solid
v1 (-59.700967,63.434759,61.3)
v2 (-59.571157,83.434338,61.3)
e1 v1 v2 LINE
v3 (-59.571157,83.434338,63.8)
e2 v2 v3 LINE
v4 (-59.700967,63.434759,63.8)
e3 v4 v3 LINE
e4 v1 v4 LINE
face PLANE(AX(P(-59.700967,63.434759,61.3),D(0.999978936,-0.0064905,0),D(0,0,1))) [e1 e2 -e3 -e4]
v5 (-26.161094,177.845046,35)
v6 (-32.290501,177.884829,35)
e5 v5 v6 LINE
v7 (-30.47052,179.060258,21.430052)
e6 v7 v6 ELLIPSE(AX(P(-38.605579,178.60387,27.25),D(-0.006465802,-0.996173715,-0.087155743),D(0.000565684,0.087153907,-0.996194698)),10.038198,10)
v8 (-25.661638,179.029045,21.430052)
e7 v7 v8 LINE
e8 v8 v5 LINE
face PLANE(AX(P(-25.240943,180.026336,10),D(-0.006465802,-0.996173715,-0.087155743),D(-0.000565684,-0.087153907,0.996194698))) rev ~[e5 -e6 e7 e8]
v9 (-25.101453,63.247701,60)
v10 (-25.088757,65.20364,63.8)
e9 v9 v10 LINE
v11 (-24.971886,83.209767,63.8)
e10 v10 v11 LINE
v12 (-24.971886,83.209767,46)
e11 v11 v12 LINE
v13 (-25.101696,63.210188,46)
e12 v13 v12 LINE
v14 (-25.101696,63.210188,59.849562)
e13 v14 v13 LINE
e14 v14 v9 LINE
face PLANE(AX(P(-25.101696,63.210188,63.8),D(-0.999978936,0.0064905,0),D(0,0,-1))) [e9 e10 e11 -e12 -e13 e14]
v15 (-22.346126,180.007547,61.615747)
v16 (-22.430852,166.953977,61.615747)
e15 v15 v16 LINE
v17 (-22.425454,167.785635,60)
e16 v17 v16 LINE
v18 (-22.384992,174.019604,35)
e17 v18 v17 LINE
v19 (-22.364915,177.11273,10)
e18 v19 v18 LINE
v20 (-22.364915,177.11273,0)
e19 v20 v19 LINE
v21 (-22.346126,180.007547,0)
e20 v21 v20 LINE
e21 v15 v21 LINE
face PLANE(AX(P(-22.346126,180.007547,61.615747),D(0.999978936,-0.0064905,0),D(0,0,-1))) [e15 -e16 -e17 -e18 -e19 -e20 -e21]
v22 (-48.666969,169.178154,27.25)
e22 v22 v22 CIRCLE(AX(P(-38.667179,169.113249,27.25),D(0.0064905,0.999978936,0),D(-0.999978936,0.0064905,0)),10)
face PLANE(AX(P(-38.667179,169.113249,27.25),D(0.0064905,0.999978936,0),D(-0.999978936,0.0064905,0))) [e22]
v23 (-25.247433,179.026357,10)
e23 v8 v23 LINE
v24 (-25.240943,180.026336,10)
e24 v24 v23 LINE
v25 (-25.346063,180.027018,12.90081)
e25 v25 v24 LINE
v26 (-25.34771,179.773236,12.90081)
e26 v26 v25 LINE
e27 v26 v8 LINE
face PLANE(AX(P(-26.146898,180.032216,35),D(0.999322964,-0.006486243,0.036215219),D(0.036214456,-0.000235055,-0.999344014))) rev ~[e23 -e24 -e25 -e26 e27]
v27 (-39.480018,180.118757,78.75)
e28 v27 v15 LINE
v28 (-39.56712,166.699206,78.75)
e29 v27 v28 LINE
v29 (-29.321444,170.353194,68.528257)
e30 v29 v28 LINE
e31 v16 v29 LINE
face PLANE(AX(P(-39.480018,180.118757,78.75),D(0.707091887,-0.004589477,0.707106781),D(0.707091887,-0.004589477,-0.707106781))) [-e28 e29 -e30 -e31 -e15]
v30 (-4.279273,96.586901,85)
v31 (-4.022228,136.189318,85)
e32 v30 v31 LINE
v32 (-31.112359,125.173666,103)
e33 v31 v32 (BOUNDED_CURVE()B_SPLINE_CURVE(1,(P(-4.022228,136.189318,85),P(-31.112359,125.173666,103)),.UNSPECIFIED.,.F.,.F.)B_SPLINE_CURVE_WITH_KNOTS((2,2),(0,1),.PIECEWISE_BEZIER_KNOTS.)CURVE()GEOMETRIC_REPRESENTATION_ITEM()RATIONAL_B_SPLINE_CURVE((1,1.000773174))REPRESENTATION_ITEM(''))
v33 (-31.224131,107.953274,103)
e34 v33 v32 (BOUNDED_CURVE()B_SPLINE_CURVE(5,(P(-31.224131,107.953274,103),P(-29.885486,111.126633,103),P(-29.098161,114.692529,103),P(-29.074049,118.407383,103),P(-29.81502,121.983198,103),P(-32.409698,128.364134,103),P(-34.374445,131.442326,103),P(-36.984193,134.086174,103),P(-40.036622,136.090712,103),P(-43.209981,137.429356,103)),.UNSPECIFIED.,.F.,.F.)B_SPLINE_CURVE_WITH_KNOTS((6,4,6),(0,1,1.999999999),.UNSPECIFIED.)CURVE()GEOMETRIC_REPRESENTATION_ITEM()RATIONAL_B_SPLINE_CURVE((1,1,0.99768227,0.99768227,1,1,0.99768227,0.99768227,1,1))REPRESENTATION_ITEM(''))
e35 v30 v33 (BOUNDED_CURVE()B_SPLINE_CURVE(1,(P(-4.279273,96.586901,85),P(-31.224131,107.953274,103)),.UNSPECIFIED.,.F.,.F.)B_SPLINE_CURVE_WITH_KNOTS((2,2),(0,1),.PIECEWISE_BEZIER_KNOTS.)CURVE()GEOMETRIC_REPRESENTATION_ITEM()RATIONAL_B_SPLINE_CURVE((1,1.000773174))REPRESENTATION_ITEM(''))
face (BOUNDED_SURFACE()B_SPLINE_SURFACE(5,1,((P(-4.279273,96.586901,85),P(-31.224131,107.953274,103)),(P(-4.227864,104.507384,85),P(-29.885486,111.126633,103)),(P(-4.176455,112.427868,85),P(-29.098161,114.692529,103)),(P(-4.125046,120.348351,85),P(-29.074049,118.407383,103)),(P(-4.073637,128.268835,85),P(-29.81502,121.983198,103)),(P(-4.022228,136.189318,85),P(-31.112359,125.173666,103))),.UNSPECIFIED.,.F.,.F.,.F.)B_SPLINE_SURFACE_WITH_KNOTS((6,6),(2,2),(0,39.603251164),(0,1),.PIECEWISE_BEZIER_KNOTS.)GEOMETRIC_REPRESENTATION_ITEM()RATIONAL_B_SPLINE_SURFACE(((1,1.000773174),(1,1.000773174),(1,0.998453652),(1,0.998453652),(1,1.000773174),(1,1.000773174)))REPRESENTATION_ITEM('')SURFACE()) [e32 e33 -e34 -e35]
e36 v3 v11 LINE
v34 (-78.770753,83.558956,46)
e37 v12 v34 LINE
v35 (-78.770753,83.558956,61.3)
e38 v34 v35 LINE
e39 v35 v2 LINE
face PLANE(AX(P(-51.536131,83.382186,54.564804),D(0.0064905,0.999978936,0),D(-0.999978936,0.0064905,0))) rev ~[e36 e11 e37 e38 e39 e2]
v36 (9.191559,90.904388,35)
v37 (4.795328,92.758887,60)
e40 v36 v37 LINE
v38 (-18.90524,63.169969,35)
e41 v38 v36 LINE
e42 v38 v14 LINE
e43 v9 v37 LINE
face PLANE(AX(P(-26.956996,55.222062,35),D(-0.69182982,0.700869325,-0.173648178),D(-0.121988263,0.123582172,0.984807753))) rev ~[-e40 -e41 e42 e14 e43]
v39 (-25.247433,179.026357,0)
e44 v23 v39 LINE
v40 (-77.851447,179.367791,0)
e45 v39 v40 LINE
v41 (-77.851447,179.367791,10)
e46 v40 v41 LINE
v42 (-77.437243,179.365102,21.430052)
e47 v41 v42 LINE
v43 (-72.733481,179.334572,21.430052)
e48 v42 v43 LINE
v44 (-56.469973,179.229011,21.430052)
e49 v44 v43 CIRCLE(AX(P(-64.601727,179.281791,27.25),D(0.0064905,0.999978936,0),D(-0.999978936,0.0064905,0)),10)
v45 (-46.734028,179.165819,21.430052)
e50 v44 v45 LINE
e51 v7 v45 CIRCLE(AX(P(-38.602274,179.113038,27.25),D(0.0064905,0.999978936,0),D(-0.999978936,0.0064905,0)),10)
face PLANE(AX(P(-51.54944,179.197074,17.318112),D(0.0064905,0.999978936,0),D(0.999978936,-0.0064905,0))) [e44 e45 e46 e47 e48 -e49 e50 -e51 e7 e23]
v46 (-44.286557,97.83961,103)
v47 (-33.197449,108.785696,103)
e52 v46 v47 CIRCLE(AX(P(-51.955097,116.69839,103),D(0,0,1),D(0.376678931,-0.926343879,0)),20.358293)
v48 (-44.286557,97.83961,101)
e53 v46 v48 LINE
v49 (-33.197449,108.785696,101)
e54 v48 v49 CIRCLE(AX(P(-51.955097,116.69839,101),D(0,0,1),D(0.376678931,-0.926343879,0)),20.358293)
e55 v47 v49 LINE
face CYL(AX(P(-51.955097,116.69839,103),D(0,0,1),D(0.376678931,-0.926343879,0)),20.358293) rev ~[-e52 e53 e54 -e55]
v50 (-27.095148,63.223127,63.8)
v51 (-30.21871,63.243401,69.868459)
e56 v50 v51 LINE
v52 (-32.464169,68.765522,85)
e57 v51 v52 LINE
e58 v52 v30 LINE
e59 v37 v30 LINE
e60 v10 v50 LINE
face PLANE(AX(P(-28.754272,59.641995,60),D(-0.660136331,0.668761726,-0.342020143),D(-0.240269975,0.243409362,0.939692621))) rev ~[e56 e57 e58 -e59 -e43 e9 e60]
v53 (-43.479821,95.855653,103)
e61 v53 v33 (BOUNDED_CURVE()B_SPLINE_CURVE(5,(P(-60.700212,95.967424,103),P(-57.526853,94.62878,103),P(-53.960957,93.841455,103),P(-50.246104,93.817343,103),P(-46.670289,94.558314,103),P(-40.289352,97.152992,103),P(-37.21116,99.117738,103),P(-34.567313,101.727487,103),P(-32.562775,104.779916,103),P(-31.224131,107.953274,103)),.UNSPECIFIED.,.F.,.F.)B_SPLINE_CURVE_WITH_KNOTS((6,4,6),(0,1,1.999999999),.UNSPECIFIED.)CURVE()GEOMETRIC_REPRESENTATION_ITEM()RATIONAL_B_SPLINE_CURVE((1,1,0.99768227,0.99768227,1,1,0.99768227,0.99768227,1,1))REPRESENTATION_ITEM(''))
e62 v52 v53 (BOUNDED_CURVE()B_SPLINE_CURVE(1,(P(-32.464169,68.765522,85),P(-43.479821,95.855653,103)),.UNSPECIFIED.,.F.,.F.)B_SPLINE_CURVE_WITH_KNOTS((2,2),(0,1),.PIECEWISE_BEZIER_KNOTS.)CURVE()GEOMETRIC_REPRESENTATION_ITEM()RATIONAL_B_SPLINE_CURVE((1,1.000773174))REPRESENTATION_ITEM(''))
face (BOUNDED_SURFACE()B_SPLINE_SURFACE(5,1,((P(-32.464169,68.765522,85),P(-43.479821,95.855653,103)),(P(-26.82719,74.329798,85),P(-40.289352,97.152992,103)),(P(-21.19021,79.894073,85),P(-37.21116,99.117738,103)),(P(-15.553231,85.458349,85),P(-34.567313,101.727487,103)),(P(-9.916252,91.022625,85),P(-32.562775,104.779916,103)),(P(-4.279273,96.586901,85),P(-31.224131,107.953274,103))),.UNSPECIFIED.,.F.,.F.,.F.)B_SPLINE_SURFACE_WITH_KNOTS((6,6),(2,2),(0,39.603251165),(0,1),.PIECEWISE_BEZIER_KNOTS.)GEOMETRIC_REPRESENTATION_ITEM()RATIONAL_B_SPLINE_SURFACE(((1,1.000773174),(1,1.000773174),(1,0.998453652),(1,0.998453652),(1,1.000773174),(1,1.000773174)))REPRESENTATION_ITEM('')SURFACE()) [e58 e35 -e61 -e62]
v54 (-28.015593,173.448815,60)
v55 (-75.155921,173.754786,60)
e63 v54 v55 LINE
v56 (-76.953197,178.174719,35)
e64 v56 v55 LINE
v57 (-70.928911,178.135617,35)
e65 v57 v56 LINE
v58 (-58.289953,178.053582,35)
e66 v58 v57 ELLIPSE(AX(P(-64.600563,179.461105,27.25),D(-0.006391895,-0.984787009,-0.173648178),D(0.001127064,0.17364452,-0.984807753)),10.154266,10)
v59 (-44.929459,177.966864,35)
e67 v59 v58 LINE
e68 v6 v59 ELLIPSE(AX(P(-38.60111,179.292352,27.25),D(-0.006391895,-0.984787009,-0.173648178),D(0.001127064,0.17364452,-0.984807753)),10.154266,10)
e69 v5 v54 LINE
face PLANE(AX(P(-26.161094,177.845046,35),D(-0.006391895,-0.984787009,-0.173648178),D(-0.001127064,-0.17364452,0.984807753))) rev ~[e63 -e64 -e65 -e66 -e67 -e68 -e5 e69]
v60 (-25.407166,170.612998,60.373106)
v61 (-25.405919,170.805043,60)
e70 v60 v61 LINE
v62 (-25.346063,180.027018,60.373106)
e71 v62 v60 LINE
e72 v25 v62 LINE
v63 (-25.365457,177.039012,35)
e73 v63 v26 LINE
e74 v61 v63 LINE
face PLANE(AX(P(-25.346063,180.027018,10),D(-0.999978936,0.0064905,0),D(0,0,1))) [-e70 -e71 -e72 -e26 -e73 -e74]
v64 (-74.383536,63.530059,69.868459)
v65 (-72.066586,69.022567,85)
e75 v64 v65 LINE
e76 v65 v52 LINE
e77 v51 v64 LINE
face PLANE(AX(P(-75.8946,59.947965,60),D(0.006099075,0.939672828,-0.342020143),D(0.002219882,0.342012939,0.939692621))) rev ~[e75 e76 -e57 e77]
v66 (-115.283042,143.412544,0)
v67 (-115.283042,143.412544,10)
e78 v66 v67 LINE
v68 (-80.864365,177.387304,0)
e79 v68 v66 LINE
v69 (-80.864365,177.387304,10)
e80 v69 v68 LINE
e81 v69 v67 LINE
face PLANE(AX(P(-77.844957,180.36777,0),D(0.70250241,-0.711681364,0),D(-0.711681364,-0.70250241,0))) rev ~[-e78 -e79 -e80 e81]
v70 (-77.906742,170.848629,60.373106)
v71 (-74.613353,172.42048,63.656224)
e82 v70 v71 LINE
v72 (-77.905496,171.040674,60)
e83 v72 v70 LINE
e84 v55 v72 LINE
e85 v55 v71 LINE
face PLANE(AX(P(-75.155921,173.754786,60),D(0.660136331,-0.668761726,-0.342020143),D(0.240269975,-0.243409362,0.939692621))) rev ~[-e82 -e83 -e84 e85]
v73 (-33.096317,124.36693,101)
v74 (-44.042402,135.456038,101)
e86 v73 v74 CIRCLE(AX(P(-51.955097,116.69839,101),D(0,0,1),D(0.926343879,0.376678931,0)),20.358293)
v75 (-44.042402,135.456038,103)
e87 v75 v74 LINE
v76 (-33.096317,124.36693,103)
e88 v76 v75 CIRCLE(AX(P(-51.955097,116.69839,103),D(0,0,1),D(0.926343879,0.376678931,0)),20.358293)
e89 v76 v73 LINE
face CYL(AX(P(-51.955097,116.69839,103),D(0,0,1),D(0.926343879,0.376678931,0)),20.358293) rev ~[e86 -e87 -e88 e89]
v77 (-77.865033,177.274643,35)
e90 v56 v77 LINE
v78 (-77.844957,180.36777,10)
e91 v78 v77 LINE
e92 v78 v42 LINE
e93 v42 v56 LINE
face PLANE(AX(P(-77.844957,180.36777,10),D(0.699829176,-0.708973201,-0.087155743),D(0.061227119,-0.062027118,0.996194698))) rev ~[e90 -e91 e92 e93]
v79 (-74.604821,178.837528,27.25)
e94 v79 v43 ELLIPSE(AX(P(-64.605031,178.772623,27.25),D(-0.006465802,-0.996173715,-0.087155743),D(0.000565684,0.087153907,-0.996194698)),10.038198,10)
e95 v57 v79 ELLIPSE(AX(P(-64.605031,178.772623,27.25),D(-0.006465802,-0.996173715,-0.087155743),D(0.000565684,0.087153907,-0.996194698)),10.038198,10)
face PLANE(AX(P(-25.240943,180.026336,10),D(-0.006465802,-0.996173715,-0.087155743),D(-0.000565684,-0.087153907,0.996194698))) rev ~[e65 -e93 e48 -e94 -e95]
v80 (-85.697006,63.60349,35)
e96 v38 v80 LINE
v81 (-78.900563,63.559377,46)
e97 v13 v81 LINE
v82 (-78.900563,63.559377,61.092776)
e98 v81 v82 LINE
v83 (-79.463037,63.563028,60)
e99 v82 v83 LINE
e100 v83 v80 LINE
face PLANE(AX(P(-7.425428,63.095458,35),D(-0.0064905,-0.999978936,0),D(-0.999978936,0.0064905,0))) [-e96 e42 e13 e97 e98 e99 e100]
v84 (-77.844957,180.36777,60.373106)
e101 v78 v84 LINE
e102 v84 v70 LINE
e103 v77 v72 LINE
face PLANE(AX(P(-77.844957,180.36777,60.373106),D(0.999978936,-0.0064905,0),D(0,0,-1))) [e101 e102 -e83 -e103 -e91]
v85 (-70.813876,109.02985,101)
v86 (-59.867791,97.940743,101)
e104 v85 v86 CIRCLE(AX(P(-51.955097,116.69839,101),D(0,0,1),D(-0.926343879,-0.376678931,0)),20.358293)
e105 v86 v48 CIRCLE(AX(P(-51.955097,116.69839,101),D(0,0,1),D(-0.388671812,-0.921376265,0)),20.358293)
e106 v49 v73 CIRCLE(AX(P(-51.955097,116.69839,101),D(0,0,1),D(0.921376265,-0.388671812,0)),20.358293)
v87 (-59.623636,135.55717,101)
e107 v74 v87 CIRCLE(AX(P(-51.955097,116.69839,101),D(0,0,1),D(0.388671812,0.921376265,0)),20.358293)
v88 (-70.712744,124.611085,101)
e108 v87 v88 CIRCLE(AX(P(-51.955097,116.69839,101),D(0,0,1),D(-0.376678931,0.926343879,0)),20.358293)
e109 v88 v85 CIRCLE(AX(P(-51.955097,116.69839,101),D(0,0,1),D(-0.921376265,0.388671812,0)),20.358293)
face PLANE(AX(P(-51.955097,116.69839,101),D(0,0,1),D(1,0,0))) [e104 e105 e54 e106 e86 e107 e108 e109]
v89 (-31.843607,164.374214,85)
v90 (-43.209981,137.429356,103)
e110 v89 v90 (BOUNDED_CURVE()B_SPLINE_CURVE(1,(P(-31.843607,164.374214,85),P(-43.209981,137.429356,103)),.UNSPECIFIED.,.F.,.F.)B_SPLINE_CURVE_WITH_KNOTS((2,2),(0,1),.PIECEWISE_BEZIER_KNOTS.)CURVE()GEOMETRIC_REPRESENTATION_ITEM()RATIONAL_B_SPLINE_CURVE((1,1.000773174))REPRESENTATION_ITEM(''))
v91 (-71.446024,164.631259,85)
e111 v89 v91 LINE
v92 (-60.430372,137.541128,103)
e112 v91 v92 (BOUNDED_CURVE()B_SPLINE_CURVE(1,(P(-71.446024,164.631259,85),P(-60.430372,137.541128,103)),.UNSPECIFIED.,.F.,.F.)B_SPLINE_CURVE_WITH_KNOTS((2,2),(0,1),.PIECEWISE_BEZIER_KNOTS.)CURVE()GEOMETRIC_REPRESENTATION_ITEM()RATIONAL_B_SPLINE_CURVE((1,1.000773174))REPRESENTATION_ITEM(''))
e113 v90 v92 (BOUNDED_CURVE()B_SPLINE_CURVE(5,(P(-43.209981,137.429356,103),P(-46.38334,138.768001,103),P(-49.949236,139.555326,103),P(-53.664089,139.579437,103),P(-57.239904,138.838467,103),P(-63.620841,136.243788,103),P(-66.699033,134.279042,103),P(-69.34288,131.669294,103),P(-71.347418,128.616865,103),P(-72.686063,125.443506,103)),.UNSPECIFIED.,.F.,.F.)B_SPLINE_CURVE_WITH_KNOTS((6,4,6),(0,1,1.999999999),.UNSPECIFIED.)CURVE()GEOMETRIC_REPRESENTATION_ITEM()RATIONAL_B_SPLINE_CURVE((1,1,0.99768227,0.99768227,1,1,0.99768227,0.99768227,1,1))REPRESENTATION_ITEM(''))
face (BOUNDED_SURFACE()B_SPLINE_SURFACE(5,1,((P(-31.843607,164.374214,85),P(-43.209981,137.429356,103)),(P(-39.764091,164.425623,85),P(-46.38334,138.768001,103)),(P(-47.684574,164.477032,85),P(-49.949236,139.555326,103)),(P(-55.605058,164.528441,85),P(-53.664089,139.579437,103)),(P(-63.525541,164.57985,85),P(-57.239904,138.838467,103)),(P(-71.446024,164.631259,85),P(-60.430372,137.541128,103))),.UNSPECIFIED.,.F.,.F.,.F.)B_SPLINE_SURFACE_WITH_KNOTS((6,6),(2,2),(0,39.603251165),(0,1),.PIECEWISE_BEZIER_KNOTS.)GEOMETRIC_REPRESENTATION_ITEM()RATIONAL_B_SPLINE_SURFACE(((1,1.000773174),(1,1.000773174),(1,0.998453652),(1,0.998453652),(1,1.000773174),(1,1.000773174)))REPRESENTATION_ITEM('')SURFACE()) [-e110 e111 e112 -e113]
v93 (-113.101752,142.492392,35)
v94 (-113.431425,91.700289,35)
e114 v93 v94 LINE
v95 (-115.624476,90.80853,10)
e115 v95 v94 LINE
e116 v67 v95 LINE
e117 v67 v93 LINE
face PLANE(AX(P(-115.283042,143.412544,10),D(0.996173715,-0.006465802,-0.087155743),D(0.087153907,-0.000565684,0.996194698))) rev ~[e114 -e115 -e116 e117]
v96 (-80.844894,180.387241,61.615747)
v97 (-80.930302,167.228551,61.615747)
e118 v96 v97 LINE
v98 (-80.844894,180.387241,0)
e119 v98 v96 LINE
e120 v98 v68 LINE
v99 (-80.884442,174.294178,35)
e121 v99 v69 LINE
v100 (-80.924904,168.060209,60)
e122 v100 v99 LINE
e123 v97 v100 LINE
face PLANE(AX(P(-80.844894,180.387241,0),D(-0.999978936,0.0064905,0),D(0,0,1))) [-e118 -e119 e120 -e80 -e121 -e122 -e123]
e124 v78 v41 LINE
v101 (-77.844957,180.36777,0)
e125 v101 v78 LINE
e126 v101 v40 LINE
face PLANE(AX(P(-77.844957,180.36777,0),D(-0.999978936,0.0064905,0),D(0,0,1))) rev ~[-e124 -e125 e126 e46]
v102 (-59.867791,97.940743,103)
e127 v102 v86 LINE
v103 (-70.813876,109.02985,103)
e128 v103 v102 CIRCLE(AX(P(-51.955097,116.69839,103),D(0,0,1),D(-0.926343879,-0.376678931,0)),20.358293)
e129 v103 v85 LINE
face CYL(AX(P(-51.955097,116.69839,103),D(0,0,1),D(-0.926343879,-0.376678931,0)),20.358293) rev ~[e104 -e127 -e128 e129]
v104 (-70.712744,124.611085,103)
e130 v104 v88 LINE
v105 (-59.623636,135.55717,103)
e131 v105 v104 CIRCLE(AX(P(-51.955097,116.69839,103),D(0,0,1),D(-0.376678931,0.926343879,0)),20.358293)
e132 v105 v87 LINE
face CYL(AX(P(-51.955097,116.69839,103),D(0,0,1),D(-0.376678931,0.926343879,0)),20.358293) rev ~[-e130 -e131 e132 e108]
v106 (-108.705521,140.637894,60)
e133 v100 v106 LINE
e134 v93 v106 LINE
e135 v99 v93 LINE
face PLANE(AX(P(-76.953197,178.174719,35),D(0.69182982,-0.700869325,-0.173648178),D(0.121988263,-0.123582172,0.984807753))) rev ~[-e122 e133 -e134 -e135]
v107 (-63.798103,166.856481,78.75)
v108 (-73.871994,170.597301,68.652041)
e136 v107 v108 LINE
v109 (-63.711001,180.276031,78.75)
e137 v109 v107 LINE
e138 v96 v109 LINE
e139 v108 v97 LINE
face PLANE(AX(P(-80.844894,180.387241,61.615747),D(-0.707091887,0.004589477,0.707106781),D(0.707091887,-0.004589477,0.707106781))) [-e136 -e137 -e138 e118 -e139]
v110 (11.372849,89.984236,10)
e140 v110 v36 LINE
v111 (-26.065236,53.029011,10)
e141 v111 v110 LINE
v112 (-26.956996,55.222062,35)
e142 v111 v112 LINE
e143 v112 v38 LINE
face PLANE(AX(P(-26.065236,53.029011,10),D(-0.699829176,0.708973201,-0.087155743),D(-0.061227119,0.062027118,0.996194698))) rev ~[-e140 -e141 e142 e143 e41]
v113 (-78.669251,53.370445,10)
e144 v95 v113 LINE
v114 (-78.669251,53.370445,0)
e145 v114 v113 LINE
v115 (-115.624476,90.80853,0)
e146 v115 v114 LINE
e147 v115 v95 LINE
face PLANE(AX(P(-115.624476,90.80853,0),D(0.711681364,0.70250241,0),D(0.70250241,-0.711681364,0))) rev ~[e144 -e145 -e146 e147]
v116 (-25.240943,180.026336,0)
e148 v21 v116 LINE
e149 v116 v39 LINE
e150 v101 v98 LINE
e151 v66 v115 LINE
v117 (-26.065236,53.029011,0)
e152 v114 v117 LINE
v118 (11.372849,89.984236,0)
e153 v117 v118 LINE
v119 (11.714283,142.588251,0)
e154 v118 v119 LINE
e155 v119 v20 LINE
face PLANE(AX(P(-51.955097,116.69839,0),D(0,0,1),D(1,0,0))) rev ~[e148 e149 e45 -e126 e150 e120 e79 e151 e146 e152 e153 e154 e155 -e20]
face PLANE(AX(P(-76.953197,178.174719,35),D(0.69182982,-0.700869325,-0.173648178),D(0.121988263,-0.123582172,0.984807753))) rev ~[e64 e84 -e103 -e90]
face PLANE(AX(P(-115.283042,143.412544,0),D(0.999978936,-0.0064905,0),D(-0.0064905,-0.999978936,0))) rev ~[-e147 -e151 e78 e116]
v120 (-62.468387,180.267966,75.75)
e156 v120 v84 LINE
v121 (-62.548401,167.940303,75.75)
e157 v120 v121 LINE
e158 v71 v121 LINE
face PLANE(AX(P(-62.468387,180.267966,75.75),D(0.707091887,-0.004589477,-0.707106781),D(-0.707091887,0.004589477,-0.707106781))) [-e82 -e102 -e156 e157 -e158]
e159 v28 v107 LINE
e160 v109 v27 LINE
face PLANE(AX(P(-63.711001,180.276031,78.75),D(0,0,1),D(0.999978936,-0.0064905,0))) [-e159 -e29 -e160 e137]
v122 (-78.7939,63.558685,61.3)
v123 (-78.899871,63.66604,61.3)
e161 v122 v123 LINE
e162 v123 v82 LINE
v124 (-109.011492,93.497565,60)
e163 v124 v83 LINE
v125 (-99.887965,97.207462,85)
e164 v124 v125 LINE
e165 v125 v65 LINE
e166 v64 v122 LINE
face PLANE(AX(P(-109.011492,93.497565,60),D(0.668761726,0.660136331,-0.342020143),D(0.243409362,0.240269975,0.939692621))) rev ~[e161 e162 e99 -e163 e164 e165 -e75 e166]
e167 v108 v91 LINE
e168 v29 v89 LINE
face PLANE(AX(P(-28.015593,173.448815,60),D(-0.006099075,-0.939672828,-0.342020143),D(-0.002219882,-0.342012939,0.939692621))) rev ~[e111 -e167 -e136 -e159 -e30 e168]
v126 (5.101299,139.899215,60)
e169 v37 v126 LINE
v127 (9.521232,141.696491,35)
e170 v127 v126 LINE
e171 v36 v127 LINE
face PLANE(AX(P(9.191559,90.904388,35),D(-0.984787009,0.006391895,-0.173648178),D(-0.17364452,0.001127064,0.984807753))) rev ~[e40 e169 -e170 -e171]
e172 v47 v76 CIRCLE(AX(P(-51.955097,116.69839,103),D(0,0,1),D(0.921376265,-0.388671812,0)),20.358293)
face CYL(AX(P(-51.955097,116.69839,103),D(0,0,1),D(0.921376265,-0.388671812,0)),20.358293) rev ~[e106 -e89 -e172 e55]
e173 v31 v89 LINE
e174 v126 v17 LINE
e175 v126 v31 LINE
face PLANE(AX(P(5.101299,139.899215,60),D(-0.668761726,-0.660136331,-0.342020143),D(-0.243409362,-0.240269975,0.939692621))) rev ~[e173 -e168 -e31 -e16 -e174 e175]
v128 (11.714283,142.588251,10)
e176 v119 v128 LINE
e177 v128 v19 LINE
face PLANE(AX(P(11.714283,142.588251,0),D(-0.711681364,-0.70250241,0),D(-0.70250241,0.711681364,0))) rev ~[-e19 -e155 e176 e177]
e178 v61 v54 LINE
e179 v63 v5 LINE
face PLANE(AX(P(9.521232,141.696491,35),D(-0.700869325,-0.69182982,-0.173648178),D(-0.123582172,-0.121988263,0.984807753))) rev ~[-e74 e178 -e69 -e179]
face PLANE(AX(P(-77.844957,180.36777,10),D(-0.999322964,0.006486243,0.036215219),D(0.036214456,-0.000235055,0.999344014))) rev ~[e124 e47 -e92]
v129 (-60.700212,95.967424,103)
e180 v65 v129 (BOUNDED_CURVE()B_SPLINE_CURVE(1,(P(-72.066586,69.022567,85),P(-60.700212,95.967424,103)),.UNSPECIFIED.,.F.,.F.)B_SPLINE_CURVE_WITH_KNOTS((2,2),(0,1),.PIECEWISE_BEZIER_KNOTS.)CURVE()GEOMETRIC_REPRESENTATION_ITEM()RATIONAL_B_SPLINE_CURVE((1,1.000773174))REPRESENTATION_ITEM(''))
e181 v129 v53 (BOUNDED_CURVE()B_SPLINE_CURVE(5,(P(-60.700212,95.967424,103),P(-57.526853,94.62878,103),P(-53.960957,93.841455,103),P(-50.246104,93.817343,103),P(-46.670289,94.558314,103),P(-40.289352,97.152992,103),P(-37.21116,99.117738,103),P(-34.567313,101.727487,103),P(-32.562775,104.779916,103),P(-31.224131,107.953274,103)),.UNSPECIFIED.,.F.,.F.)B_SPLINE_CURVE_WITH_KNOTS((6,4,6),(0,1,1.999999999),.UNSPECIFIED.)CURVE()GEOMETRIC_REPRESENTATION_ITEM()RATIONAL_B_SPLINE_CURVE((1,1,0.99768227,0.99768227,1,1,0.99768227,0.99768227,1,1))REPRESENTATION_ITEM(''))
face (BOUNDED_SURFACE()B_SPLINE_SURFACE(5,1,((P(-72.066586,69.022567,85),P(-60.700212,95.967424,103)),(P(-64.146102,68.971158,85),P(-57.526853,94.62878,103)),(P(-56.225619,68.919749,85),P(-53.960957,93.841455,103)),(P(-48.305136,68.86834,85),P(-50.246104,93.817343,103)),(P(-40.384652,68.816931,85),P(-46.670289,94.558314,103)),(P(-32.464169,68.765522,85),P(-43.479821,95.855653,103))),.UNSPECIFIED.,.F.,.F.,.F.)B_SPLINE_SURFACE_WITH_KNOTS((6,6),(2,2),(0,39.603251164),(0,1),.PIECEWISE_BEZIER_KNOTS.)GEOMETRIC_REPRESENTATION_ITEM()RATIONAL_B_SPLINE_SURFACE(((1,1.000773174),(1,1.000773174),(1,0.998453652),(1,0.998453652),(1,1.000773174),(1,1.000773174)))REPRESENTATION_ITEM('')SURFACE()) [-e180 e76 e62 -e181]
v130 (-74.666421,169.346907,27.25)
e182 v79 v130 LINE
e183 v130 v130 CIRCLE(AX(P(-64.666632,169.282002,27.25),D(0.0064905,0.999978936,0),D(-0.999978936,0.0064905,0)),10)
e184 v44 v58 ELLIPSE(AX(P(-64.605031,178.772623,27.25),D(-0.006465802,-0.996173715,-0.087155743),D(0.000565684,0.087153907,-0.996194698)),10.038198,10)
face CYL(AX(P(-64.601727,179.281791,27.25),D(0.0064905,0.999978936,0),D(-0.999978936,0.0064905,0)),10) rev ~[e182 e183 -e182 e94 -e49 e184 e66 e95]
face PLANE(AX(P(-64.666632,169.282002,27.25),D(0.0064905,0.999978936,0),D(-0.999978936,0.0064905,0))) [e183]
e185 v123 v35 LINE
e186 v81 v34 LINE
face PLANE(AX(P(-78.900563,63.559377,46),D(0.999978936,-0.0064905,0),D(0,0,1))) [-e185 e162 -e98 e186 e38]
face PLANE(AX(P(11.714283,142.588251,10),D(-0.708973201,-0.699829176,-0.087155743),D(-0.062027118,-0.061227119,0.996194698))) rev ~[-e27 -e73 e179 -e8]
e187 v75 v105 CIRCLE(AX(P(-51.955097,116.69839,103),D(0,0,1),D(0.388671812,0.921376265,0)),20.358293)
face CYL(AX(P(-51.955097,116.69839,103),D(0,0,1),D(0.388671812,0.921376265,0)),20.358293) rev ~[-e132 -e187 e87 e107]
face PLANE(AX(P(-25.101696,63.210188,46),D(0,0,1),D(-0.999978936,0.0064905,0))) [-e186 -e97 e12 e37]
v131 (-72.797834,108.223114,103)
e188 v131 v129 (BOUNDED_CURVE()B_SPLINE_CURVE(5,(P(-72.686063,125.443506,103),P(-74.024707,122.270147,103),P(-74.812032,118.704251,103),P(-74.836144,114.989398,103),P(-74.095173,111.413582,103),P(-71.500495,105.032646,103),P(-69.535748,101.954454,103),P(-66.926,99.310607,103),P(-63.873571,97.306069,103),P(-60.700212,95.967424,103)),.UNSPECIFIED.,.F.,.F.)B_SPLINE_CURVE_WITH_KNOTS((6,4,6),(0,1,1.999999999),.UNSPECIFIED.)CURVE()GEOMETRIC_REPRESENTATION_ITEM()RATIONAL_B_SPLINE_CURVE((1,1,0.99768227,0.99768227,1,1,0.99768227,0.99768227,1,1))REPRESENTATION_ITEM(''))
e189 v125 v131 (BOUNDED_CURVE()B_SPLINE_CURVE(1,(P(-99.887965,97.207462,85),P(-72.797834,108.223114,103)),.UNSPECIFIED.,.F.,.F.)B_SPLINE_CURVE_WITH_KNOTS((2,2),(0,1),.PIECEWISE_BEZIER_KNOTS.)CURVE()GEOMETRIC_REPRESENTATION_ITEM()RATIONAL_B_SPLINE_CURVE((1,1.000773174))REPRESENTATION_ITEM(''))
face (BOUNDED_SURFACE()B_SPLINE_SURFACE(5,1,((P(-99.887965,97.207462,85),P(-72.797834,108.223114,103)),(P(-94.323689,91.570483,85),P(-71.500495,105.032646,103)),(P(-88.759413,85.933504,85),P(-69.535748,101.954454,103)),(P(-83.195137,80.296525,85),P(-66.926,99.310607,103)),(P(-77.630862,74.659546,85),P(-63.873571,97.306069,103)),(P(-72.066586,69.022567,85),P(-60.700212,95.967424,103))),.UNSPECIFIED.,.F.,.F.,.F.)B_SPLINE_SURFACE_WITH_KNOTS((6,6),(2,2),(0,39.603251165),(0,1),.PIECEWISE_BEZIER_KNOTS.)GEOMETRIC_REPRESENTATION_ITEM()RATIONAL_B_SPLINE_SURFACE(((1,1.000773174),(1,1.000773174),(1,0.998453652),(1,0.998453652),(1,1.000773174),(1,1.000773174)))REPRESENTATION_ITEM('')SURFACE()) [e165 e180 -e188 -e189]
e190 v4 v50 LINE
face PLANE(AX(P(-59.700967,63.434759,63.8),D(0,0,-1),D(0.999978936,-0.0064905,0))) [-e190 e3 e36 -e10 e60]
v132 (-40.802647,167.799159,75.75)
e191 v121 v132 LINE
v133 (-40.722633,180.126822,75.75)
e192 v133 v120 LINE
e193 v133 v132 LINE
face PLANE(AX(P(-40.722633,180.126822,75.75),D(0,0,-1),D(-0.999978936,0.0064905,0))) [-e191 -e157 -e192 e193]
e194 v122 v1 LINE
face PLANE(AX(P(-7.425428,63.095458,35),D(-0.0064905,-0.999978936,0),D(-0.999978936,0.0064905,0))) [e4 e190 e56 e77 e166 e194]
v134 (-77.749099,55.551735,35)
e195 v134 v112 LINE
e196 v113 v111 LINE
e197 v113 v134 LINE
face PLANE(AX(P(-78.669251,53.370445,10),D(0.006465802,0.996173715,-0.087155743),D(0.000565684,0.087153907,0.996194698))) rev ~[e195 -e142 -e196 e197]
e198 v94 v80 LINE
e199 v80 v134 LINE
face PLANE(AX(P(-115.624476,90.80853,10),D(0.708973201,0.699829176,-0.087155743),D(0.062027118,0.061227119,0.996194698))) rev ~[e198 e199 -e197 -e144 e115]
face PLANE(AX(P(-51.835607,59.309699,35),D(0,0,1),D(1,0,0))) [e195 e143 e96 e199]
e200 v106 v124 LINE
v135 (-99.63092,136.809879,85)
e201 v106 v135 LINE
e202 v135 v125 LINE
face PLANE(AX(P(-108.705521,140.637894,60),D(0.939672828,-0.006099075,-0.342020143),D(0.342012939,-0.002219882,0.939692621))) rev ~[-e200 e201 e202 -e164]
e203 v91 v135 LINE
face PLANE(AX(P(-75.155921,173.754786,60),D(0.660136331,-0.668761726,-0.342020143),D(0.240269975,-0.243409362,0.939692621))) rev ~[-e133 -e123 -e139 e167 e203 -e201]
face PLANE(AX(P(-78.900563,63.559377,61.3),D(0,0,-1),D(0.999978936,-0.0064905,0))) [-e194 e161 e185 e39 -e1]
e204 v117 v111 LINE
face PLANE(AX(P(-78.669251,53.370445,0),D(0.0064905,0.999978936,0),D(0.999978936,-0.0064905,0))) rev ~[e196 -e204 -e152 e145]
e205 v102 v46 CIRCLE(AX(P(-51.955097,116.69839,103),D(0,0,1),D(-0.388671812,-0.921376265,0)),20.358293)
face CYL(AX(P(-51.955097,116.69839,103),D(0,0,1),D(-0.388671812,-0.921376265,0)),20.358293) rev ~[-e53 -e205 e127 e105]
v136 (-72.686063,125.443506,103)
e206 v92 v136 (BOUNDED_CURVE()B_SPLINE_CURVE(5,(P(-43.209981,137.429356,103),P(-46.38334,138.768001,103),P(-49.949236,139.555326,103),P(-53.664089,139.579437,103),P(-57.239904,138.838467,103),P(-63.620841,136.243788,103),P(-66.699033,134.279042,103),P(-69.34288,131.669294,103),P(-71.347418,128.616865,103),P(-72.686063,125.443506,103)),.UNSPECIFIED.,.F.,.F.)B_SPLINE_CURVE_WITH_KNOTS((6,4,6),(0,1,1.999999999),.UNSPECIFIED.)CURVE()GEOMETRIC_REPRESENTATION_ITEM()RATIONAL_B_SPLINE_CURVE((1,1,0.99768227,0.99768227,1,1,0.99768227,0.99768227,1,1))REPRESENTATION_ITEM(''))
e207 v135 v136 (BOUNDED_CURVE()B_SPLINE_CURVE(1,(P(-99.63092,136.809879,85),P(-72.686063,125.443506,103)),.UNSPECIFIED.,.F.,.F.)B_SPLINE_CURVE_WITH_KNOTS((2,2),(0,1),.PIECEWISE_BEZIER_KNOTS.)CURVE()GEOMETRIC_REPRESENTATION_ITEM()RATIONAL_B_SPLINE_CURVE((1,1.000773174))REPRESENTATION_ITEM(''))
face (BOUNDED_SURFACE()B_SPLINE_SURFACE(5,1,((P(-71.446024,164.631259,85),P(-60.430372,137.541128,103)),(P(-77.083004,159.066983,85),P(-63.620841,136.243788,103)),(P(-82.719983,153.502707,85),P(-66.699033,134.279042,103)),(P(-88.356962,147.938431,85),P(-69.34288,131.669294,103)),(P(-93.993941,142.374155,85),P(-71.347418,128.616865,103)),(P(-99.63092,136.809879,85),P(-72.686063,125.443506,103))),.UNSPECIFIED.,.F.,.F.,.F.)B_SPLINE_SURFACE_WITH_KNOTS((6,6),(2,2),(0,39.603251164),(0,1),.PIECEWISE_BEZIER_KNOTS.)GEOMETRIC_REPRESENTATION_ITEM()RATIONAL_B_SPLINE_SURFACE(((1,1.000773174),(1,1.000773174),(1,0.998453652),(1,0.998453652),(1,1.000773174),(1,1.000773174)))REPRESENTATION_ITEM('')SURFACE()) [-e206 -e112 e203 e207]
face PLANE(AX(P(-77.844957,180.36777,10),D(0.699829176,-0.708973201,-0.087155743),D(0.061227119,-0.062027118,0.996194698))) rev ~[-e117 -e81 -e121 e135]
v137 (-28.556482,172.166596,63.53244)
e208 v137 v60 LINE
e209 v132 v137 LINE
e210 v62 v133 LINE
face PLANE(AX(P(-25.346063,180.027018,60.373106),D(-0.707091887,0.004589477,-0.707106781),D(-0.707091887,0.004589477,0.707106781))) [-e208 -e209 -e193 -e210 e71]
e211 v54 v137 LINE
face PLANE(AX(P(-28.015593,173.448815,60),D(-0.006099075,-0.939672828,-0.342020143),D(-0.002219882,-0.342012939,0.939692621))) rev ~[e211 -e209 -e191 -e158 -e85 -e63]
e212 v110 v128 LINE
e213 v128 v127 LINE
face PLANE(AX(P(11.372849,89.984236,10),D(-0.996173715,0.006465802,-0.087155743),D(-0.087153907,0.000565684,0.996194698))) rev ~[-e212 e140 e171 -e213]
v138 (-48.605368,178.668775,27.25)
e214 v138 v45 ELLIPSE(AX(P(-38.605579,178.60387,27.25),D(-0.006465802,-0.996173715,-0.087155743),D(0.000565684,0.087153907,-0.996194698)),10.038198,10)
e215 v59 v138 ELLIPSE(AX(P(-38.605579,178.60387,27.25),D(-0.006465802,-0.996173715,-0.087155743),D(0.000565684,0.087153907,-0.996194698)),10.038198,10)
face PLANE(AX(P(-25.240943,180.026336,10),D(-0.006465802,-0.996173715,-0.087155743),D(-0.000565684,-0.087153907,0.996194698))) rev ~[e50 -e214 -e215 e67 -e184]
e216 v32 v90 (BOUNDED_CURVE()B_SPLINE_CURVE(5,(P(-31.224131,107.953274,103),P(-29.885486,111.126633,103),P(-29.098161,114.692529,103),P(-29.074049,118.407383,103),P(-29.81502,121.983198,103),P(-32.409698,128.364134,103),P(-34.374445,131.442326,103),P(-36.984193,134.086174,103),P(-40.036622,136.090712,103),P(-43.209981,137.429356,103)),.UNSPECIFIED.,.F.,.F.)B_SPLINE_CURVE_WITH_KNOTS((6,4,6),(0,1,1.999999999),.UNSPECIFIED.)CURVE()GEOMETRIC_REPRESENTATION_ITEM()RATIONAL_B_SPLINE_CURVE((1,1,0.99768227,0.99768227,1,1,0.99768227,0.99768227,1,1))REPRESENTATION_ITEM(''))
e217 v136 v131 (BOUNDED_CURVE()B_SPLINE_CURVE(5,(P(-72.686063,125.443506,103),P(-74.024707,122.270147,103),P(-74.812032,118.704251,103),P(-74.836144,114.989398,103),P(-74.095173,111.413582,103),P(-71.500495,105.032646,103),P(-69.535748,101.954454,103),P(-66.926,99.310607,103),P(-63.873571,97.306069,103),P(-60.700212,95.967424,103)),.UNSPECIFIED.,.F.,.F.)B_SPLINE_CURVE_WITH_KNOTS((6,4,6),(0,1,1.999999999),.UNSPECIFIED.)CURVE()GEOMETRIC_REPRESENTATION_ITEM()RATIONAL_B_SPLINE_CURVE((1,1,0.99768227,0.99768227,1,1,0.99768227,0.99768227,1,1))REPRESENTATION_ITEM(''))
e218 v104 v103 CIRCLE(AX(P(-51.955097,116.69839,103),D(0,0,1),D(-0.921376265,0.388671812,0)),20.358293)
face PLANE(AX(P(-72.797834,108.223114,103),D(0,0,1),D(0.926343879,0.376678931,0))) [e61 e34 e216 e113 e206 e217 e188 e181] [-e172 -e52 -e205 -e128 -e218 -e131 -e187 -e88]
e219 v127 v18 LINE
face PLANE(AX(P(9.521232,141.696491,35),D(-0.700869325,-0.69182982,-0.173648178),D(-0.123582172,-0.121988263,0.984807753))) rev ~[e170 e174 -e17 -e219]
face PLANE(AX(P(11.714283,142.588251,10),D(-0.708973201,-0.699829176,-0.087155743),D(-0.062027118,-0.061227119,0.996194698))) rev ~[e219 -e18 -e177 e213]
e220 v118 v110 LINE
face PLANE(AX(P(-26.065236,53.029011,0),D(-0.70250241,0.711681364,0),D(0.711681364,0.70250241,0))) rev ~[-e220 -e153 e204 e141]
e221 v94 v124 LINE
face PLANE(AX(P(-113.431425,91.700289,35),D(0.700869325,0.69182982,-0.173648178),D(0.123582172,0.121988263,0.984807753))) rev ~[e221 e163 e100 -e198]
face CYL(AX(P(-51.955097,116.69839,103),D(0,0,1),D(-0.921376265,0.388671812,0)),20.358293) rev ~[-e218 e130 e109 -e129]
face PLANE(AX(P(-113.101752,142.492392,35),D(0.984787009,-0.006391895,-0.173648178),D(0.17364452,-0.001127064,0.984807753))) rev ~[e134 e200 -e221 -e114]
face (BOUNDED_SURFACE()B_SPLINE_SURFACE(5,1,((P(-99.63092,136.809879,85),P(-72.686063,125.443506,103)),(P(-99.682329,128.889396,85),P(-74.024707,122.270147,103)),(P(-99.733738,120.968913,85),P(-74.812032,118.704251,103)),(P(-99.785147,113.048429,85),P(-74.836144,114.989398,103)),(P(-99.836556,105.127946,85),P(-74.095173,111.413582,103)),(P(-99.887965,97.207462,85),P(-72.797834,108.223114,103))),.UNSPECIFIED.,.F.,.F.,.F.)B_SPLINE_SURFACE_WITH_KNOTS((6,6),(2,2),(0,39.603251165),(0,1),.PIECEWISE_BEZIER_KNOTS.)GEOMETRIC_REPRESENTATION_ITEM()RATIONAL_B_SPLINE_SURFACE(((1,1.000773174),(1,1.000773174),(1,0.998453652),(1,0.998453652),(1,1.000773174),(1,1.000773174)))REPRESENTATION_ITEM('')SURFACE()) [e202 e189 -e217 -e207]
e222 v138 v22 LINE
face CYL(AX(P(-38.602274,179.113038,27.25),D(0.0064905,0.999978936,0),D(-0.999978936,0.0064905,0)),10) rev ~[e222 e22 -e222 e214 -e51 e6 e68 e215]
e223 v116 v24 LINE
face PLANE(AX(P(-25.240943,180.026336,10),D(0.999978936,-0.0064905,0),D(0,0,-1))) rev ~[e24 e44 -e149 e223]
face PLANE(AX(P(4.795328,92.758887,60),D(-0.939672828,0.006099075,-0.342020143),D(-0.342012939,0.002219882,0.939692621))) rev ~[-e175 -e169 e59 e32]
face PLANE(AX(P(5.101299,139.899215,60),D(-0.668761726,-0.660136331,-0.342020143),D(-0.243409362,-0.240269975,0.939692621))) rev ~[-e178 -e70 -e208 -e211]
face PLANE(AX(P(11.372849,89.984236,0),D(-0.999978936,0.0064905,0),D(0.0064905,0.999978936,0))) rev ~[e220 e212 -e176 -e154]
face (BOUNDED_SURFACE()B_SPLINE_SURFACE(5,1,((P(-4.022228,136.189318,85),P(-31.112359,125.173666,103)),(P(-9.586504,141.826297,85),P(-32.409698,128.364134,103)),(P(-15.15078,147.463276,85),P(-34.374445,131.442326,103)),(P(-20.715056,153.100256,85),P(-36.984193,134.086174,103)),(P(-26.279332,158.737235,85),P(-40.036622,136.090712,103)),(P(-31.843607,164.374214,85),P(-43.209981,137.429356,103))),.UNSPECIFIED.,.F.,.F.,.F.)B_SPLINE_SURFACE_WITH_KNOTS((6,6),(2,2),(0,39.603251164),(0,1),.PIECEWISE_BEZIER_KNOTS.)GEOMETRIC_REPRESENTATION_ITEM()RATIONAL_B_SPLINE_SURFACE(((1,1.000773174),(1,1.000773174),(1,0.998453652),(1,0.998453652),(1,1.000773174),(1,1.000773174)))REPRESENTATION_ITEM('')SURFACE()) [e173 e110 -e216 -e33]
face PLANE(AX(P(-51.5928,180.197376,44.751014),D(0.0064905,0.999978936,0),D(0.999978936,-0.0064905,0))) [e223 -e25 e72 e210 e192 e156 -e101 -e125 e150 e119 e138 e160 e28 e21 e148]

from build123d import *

# Parameters (mm, degrees)
RESSALTO_EXTRUS_O1_DEPTH  = 10
RESSALTO_EXTRUS_O2_DEPTH  = 25
RESSALTO_EXTRUS_O2_TAPER  = 5
RESSALTO_EXTRUS_O3_DEPTH  = 25
RESSALTO_EXTRUS_O3_TAPER  = 10
RESSALTO_EXTRUS_O4_DEPTH  = 25
RESSALTO_EXTRUS_O4_TAPER  = 20
ESBO_O8_R                 = 5
RESSALTO_EXTRUS_O6_DEPTH  = 18
CORTE_EXTRUS_O2_DEPTH     = 2
RESSALTO_EXTRUS_O10_DEPTH = 50
CORTE_EXTRUS_O5_START     = 35
CORTE_EXTRUS_O5_DEPTH     = 50
CORTE_EXTRUS_O6_DEPTH     = 20
CORTE_EXTRUS_O7_DEPTH     = 1
ESBO_O17_R                = 10
CORTE_EXTRUS_O8_DEPTH     = 10


with BuildPart() as part:
    # Esboço1 → Ressalto-extrusão1 (new body)
    with BuildSketch(Plane.XY):
        Polygon((11.714282715, 142.58825066), (-25.240942572, 180.026335933), (-77.844956945, 180.367769505), (-115.283042218, 143.412544218), (-115.624475789, 90.808529845), (-78.669250503, 53.370444572), (-26.06523613, 53.029011), (11.372849143, 89.984236287), align=None)
    extrude(amount=RESSALTO_EXTRUS_O1_DEPTH)

    # Esboço3 → Ressalto-extrusão2 (add)
    with BuildSketch(Plane.XY.offset(10)):
        Polygon((11.372849143, 89.984236287), (11.714282715, 142.58825066), (-25.240942572, 180.026335933), (-77.844956945, 180.367769505), (-115.283042218, 143.412544218), (-115.624475789, 90.808529845), (-78.669250503, 53.370444572), (-26.06523613, 53.029011), align=None)
    extrude(amount=RESSALTO_EXTRUS_O2_DEPTH, taper=RESSALTO_EXTRUS_O2_TAPER)

    # Esboço4 → Ressalto-extrusão3 (add)
    with BuildSketch(Plane.XY.offset(35)):
        Polygon((-26.956995692, 55.222061748), (9.191558856, 90.904388109), (9.521231967, 141.696491098), (-26.161094394, 177.845045645), (-76.953197383, 178.174718757), (-113.10175193, 142.492392396), (-113.431425042, 91.700289407), (-77.749098681, 55.55173486), align=None)
    extrude(amount=RESSALTO_EXTRUS_O3_DEPTH, taper=RESSALTO_EXTRUS_O3_TAPER)

    # Esboço5 → Ressalto-extrusão4 (add)
    with BuildSketch(Plane.XY.offset(60)):
        Polygon((-75.894600212, 59.947965354), (-28.754271643, 59.641994585), (4.795328361, 92.758886578), (5.10129913, 139.899215147), (-28.015592863, 173.448815151), (-75.155921432, 173.75478592), (-108.705521436, 140.637893927), (-109.011492205, 93.497565358), align=None)
    extrude(amount=RESSALTO_EXTRUS_O4_DEPTH, taper=RESSALTO_EXTRUS_O4_TAPER)

    # Esboço8 → Ressalto-extrusão6 (add)
    with BuildSketch(Plane.XY.offset(85)):
        with Locations((-51.955096537, 116.698390253)):
            Circle(ESBO_O8_R)
    extrude(amount=RESSALTO_EXTRUS_O6_DEPTH)

    # Esboço6 → Loft1 section 0
    with BuildSketch(Plane.XY.offset(85)):
        with BuildLine():
            Line((-99.887965086, 97.207462428), (-72.066585693, 69.022566624))
            Line((-72.066585693, 69.022566624), (-32.464168713, 68.765521704))
            Line((-32.464168713, 68.765521704), (-4.279272909, 96.586901097))
            Line((-4.279272909, 96.586901097), (-4.022227989, 136.189318077))
            Line((-4.022227989, 136.189318077), (-31.843607381, 164.374213881))
            Line((-31.843607381, 164.374213881), (-71.446024362, 164.631258801))
            Line((-71.446024362, 164.631258801), (-99.630920166, 136.809879409))
            Line((-99.630920166, 136.809879409), (-99.887965086, 97.207462428))
        make_face()
    # Esboço7 for Loft1 → Loft1 section 1
    with BuildSketch(Plane.XY.offset(103)):
        with BuildLine():
            # circular arc as an exact rational Bezier (weights 1, cos(half-angle), 1)
            Bezier((-72.797833823, 108.223114301), (-69.28725958, 99.58976984), (-60.700212313, 95.967424282), weights=[1, 0.923879532, 1])
            Bezier((-60.700212313, 95.967424282), (-52.113165047, 92.345078724), (-43.479820586, 95.855652967), weights=[1, 0.923879533, 1])
            Bezier((-43.479820586, 95.855652967), (-34.846476125, 99.36622721), (-31.224130567, 107.953274477), weights=[1, 0.923879532, 1])
            Bezier((-31.224130567, 107.953274477), (-27.601785009, 116.540321743), (-31.112359252, 125.173666204), weights=[1, 0.923879533, 1])
            Bezier((-31.112359252, 125.173666204), (-34.622933495, 133.807010665), (-43.209980762, 137.429356223), weights=[1, 0.923879532, 1])
            Bezier((-43.209980762, 137.429356223), (-51.797028028, 141.051701781), (-60.430372489, 137.541127538), weights=[1, 0.923879533, 1])
            Bezier((-60.430372489, 137.541127538), (-69.06371695, 134.030553295), (-72.686062508, 125.443506028), weights=[1, 0.923879532, 1])
            Bezier((-72.686062508, 125.443506028), (-76.308408066, 116.856458762), (-72.797833823, 108.223114301), weights=[1, 0.923879533, 1])
        make_face()
    loft()

    # Esboço9 → Corte-extrusão2 (cut)
    with BuildSketch(Plane.XY.offset(103)):
        with BuildLine():
            ThreePointArc((-44.042402012, 135.456037969), (-51.822961029, 137.056254156), (-59.62363648, 135.557170109))
            ThreePointArc((-59.62363648, 135.557170109), (-66.25684624, 131.187007783), (-70.712744254, 124.611084778))
            ThreePointArc((-70.712744254, 124.611084778), (-72.312960441, 116.830525761), (-70.813876394, 109.02985031))
            ThreePointArc((-70.813876394, 109.02985031), (-66.443714068, 102.39664055), (-59.867791063, 97.940742536))
            ThreePointArc((-59.867791063, 97.940742536), (-52.087232046, 96.340526349), (-44.286556595, 97.839610396))
            ThreePointArc((-44.286556595, 97.839610396), (-37.653346835, 102.209772722), (-33.197448821, 108.785695727))
            ThreePointArc((-33.197448821, 108.785695727), (-31.597232634, 116.566254744), (-33.096316681, 124.366930195))
            ThreePointArc((-33.096316681, 124.366930195), (-37.466479007, 131.000139955), (-44.042402012, 135.456037969))
        make_face()
    extrude(amount=-CORTE_EXTRUS_O2_DEPTH, mode=Mode.SUBTRACT)

    # Esboço13 → Corte-extrusão5 (cut)
    with BuildSketch(Plane.XY.offset(CORTE_EXTRUS_O5_START)):
        Polygon((-98.070713952, 55.683635091), (-5.651465, 55.083775278), (-7.425428207, 63.095457942), (-96.192902738, 63.671615412), align=None)
    extrude(amount=CORTE_EXTRUS_O5_DEPTH, mode=Mode.SUBTRACT)

    # Esboço15 → Corte-extrusão6 (cut)
    with BuildSketch(Plane(origin=(0.409199665, 63.044606215, 0), x_dir=(0.9999789364800716, -0.006490500457210974, 0), z_dir=(-0.006490500457210974, -0.9999789364800716, 0))):
        Polygon((-79.311433136, 61.3), (-60.111433136, 61.3), (-60.111433136, 63.8), (-25.511433136, 63.8), (-25.511433136, 46), (-79.311433136, 46), align=None)
    extrude(amount=-CORTE_EXTRUS_O6_DEPTH, mode=Mode.SUBTRACT)


with BuildPart() as body_2:
    # Esboço12 → Ressalto-extrusão10 (new body)
    with BuildSketch(Plane(origin=(1.167373089, 179.854929138, 0), x_dir=(0.9999789364800716, -0.0064905004572113805, 0), z_dir=(0.0064905004572113805, 0.9999789364800716, 0))):
        Polygon((-79.013994346, 0), (-82.013994346, 0), (-82.013994346, -61.615746699), (-64.879741046, -78.75), (-40.648247647, -78.75), (-23.513994346, -61.615746699), (-23.513994346, 0), (-26.408871925, 0), (-26.408871925, -10), (-26.513994346, -10), (-26.513994346, -60.373106012), (-41.890888334, -75.75), (-63.637100359, -75.75), (-79.013994346, -60.373106012), (-79.013994346, -10), align=None)
    extrude(amount=-RESSALTO_EXTRUS_O10_DEPTH)


with BuildPart() as corte_extrus_o7_tool:
    # Esboço16 → Corte-extrusão7 (new body)
    with BuildSketch(Plane(origin=(1.167373089, 179.854929138, 0), x_dir=(0.9999789364800716, -0.0064905004572113805, 0), z_dir=(0.0064905004572113805, 0.9999789364800716, 0))):
        Polygon((-26.408871925, 0), (-79.013994346, 0), (-79.013994346, -10), (-78.108019572, -35), (-27.314846699, -35), (-26.408871925, -10), align=None)
    extrude(amount=-CORTE_EXTRUS_O7_DEPTH)


with BuildPart() as part_1:
    add(part.part)

    # Corte-extrusão7: cut by corte_extrus_o7_tool
    add(corte_extrus_o7_tool.part, mode=Mode.SUBTRACT)

    # Esboço17 → Corte-extrusão8 (cut)
    with BuildSketch(Plane(origin=(1.160882588, 178.854950202, 0), x_dir=(0.9999789364800716, -0.0064905004572113805, 0), z_dir=(0.0064905004572113805, 0.9999789364800716, 0))):
        with Locations(Location((-39.763994346, -27.25, 0), (0, 0, 180))):
            Circle(ESBO_O17_R)
        with Locations(Location((-65.763994346, -27.25, 0), (0, 0, 180))):
            Circle(ESBO_O17_R)
    extrude(amount=-CORTE_EXTRUS_O8_DEPTH, mode=Mode.SUBTRACT)


with BuildPart() as body_2_1:
    add(body_2.part)

    # Corte-extrusão7: cut by corte_extrus_o7_tool
    add(corte_extrus_o7_tool.part, mode=Mode.SUBTRACT)


with BuildPart() as part_2:
    add(part_1.part)

    # Combinar1: union body 2
    add(body_2_1.part)


solid = part_2.part
